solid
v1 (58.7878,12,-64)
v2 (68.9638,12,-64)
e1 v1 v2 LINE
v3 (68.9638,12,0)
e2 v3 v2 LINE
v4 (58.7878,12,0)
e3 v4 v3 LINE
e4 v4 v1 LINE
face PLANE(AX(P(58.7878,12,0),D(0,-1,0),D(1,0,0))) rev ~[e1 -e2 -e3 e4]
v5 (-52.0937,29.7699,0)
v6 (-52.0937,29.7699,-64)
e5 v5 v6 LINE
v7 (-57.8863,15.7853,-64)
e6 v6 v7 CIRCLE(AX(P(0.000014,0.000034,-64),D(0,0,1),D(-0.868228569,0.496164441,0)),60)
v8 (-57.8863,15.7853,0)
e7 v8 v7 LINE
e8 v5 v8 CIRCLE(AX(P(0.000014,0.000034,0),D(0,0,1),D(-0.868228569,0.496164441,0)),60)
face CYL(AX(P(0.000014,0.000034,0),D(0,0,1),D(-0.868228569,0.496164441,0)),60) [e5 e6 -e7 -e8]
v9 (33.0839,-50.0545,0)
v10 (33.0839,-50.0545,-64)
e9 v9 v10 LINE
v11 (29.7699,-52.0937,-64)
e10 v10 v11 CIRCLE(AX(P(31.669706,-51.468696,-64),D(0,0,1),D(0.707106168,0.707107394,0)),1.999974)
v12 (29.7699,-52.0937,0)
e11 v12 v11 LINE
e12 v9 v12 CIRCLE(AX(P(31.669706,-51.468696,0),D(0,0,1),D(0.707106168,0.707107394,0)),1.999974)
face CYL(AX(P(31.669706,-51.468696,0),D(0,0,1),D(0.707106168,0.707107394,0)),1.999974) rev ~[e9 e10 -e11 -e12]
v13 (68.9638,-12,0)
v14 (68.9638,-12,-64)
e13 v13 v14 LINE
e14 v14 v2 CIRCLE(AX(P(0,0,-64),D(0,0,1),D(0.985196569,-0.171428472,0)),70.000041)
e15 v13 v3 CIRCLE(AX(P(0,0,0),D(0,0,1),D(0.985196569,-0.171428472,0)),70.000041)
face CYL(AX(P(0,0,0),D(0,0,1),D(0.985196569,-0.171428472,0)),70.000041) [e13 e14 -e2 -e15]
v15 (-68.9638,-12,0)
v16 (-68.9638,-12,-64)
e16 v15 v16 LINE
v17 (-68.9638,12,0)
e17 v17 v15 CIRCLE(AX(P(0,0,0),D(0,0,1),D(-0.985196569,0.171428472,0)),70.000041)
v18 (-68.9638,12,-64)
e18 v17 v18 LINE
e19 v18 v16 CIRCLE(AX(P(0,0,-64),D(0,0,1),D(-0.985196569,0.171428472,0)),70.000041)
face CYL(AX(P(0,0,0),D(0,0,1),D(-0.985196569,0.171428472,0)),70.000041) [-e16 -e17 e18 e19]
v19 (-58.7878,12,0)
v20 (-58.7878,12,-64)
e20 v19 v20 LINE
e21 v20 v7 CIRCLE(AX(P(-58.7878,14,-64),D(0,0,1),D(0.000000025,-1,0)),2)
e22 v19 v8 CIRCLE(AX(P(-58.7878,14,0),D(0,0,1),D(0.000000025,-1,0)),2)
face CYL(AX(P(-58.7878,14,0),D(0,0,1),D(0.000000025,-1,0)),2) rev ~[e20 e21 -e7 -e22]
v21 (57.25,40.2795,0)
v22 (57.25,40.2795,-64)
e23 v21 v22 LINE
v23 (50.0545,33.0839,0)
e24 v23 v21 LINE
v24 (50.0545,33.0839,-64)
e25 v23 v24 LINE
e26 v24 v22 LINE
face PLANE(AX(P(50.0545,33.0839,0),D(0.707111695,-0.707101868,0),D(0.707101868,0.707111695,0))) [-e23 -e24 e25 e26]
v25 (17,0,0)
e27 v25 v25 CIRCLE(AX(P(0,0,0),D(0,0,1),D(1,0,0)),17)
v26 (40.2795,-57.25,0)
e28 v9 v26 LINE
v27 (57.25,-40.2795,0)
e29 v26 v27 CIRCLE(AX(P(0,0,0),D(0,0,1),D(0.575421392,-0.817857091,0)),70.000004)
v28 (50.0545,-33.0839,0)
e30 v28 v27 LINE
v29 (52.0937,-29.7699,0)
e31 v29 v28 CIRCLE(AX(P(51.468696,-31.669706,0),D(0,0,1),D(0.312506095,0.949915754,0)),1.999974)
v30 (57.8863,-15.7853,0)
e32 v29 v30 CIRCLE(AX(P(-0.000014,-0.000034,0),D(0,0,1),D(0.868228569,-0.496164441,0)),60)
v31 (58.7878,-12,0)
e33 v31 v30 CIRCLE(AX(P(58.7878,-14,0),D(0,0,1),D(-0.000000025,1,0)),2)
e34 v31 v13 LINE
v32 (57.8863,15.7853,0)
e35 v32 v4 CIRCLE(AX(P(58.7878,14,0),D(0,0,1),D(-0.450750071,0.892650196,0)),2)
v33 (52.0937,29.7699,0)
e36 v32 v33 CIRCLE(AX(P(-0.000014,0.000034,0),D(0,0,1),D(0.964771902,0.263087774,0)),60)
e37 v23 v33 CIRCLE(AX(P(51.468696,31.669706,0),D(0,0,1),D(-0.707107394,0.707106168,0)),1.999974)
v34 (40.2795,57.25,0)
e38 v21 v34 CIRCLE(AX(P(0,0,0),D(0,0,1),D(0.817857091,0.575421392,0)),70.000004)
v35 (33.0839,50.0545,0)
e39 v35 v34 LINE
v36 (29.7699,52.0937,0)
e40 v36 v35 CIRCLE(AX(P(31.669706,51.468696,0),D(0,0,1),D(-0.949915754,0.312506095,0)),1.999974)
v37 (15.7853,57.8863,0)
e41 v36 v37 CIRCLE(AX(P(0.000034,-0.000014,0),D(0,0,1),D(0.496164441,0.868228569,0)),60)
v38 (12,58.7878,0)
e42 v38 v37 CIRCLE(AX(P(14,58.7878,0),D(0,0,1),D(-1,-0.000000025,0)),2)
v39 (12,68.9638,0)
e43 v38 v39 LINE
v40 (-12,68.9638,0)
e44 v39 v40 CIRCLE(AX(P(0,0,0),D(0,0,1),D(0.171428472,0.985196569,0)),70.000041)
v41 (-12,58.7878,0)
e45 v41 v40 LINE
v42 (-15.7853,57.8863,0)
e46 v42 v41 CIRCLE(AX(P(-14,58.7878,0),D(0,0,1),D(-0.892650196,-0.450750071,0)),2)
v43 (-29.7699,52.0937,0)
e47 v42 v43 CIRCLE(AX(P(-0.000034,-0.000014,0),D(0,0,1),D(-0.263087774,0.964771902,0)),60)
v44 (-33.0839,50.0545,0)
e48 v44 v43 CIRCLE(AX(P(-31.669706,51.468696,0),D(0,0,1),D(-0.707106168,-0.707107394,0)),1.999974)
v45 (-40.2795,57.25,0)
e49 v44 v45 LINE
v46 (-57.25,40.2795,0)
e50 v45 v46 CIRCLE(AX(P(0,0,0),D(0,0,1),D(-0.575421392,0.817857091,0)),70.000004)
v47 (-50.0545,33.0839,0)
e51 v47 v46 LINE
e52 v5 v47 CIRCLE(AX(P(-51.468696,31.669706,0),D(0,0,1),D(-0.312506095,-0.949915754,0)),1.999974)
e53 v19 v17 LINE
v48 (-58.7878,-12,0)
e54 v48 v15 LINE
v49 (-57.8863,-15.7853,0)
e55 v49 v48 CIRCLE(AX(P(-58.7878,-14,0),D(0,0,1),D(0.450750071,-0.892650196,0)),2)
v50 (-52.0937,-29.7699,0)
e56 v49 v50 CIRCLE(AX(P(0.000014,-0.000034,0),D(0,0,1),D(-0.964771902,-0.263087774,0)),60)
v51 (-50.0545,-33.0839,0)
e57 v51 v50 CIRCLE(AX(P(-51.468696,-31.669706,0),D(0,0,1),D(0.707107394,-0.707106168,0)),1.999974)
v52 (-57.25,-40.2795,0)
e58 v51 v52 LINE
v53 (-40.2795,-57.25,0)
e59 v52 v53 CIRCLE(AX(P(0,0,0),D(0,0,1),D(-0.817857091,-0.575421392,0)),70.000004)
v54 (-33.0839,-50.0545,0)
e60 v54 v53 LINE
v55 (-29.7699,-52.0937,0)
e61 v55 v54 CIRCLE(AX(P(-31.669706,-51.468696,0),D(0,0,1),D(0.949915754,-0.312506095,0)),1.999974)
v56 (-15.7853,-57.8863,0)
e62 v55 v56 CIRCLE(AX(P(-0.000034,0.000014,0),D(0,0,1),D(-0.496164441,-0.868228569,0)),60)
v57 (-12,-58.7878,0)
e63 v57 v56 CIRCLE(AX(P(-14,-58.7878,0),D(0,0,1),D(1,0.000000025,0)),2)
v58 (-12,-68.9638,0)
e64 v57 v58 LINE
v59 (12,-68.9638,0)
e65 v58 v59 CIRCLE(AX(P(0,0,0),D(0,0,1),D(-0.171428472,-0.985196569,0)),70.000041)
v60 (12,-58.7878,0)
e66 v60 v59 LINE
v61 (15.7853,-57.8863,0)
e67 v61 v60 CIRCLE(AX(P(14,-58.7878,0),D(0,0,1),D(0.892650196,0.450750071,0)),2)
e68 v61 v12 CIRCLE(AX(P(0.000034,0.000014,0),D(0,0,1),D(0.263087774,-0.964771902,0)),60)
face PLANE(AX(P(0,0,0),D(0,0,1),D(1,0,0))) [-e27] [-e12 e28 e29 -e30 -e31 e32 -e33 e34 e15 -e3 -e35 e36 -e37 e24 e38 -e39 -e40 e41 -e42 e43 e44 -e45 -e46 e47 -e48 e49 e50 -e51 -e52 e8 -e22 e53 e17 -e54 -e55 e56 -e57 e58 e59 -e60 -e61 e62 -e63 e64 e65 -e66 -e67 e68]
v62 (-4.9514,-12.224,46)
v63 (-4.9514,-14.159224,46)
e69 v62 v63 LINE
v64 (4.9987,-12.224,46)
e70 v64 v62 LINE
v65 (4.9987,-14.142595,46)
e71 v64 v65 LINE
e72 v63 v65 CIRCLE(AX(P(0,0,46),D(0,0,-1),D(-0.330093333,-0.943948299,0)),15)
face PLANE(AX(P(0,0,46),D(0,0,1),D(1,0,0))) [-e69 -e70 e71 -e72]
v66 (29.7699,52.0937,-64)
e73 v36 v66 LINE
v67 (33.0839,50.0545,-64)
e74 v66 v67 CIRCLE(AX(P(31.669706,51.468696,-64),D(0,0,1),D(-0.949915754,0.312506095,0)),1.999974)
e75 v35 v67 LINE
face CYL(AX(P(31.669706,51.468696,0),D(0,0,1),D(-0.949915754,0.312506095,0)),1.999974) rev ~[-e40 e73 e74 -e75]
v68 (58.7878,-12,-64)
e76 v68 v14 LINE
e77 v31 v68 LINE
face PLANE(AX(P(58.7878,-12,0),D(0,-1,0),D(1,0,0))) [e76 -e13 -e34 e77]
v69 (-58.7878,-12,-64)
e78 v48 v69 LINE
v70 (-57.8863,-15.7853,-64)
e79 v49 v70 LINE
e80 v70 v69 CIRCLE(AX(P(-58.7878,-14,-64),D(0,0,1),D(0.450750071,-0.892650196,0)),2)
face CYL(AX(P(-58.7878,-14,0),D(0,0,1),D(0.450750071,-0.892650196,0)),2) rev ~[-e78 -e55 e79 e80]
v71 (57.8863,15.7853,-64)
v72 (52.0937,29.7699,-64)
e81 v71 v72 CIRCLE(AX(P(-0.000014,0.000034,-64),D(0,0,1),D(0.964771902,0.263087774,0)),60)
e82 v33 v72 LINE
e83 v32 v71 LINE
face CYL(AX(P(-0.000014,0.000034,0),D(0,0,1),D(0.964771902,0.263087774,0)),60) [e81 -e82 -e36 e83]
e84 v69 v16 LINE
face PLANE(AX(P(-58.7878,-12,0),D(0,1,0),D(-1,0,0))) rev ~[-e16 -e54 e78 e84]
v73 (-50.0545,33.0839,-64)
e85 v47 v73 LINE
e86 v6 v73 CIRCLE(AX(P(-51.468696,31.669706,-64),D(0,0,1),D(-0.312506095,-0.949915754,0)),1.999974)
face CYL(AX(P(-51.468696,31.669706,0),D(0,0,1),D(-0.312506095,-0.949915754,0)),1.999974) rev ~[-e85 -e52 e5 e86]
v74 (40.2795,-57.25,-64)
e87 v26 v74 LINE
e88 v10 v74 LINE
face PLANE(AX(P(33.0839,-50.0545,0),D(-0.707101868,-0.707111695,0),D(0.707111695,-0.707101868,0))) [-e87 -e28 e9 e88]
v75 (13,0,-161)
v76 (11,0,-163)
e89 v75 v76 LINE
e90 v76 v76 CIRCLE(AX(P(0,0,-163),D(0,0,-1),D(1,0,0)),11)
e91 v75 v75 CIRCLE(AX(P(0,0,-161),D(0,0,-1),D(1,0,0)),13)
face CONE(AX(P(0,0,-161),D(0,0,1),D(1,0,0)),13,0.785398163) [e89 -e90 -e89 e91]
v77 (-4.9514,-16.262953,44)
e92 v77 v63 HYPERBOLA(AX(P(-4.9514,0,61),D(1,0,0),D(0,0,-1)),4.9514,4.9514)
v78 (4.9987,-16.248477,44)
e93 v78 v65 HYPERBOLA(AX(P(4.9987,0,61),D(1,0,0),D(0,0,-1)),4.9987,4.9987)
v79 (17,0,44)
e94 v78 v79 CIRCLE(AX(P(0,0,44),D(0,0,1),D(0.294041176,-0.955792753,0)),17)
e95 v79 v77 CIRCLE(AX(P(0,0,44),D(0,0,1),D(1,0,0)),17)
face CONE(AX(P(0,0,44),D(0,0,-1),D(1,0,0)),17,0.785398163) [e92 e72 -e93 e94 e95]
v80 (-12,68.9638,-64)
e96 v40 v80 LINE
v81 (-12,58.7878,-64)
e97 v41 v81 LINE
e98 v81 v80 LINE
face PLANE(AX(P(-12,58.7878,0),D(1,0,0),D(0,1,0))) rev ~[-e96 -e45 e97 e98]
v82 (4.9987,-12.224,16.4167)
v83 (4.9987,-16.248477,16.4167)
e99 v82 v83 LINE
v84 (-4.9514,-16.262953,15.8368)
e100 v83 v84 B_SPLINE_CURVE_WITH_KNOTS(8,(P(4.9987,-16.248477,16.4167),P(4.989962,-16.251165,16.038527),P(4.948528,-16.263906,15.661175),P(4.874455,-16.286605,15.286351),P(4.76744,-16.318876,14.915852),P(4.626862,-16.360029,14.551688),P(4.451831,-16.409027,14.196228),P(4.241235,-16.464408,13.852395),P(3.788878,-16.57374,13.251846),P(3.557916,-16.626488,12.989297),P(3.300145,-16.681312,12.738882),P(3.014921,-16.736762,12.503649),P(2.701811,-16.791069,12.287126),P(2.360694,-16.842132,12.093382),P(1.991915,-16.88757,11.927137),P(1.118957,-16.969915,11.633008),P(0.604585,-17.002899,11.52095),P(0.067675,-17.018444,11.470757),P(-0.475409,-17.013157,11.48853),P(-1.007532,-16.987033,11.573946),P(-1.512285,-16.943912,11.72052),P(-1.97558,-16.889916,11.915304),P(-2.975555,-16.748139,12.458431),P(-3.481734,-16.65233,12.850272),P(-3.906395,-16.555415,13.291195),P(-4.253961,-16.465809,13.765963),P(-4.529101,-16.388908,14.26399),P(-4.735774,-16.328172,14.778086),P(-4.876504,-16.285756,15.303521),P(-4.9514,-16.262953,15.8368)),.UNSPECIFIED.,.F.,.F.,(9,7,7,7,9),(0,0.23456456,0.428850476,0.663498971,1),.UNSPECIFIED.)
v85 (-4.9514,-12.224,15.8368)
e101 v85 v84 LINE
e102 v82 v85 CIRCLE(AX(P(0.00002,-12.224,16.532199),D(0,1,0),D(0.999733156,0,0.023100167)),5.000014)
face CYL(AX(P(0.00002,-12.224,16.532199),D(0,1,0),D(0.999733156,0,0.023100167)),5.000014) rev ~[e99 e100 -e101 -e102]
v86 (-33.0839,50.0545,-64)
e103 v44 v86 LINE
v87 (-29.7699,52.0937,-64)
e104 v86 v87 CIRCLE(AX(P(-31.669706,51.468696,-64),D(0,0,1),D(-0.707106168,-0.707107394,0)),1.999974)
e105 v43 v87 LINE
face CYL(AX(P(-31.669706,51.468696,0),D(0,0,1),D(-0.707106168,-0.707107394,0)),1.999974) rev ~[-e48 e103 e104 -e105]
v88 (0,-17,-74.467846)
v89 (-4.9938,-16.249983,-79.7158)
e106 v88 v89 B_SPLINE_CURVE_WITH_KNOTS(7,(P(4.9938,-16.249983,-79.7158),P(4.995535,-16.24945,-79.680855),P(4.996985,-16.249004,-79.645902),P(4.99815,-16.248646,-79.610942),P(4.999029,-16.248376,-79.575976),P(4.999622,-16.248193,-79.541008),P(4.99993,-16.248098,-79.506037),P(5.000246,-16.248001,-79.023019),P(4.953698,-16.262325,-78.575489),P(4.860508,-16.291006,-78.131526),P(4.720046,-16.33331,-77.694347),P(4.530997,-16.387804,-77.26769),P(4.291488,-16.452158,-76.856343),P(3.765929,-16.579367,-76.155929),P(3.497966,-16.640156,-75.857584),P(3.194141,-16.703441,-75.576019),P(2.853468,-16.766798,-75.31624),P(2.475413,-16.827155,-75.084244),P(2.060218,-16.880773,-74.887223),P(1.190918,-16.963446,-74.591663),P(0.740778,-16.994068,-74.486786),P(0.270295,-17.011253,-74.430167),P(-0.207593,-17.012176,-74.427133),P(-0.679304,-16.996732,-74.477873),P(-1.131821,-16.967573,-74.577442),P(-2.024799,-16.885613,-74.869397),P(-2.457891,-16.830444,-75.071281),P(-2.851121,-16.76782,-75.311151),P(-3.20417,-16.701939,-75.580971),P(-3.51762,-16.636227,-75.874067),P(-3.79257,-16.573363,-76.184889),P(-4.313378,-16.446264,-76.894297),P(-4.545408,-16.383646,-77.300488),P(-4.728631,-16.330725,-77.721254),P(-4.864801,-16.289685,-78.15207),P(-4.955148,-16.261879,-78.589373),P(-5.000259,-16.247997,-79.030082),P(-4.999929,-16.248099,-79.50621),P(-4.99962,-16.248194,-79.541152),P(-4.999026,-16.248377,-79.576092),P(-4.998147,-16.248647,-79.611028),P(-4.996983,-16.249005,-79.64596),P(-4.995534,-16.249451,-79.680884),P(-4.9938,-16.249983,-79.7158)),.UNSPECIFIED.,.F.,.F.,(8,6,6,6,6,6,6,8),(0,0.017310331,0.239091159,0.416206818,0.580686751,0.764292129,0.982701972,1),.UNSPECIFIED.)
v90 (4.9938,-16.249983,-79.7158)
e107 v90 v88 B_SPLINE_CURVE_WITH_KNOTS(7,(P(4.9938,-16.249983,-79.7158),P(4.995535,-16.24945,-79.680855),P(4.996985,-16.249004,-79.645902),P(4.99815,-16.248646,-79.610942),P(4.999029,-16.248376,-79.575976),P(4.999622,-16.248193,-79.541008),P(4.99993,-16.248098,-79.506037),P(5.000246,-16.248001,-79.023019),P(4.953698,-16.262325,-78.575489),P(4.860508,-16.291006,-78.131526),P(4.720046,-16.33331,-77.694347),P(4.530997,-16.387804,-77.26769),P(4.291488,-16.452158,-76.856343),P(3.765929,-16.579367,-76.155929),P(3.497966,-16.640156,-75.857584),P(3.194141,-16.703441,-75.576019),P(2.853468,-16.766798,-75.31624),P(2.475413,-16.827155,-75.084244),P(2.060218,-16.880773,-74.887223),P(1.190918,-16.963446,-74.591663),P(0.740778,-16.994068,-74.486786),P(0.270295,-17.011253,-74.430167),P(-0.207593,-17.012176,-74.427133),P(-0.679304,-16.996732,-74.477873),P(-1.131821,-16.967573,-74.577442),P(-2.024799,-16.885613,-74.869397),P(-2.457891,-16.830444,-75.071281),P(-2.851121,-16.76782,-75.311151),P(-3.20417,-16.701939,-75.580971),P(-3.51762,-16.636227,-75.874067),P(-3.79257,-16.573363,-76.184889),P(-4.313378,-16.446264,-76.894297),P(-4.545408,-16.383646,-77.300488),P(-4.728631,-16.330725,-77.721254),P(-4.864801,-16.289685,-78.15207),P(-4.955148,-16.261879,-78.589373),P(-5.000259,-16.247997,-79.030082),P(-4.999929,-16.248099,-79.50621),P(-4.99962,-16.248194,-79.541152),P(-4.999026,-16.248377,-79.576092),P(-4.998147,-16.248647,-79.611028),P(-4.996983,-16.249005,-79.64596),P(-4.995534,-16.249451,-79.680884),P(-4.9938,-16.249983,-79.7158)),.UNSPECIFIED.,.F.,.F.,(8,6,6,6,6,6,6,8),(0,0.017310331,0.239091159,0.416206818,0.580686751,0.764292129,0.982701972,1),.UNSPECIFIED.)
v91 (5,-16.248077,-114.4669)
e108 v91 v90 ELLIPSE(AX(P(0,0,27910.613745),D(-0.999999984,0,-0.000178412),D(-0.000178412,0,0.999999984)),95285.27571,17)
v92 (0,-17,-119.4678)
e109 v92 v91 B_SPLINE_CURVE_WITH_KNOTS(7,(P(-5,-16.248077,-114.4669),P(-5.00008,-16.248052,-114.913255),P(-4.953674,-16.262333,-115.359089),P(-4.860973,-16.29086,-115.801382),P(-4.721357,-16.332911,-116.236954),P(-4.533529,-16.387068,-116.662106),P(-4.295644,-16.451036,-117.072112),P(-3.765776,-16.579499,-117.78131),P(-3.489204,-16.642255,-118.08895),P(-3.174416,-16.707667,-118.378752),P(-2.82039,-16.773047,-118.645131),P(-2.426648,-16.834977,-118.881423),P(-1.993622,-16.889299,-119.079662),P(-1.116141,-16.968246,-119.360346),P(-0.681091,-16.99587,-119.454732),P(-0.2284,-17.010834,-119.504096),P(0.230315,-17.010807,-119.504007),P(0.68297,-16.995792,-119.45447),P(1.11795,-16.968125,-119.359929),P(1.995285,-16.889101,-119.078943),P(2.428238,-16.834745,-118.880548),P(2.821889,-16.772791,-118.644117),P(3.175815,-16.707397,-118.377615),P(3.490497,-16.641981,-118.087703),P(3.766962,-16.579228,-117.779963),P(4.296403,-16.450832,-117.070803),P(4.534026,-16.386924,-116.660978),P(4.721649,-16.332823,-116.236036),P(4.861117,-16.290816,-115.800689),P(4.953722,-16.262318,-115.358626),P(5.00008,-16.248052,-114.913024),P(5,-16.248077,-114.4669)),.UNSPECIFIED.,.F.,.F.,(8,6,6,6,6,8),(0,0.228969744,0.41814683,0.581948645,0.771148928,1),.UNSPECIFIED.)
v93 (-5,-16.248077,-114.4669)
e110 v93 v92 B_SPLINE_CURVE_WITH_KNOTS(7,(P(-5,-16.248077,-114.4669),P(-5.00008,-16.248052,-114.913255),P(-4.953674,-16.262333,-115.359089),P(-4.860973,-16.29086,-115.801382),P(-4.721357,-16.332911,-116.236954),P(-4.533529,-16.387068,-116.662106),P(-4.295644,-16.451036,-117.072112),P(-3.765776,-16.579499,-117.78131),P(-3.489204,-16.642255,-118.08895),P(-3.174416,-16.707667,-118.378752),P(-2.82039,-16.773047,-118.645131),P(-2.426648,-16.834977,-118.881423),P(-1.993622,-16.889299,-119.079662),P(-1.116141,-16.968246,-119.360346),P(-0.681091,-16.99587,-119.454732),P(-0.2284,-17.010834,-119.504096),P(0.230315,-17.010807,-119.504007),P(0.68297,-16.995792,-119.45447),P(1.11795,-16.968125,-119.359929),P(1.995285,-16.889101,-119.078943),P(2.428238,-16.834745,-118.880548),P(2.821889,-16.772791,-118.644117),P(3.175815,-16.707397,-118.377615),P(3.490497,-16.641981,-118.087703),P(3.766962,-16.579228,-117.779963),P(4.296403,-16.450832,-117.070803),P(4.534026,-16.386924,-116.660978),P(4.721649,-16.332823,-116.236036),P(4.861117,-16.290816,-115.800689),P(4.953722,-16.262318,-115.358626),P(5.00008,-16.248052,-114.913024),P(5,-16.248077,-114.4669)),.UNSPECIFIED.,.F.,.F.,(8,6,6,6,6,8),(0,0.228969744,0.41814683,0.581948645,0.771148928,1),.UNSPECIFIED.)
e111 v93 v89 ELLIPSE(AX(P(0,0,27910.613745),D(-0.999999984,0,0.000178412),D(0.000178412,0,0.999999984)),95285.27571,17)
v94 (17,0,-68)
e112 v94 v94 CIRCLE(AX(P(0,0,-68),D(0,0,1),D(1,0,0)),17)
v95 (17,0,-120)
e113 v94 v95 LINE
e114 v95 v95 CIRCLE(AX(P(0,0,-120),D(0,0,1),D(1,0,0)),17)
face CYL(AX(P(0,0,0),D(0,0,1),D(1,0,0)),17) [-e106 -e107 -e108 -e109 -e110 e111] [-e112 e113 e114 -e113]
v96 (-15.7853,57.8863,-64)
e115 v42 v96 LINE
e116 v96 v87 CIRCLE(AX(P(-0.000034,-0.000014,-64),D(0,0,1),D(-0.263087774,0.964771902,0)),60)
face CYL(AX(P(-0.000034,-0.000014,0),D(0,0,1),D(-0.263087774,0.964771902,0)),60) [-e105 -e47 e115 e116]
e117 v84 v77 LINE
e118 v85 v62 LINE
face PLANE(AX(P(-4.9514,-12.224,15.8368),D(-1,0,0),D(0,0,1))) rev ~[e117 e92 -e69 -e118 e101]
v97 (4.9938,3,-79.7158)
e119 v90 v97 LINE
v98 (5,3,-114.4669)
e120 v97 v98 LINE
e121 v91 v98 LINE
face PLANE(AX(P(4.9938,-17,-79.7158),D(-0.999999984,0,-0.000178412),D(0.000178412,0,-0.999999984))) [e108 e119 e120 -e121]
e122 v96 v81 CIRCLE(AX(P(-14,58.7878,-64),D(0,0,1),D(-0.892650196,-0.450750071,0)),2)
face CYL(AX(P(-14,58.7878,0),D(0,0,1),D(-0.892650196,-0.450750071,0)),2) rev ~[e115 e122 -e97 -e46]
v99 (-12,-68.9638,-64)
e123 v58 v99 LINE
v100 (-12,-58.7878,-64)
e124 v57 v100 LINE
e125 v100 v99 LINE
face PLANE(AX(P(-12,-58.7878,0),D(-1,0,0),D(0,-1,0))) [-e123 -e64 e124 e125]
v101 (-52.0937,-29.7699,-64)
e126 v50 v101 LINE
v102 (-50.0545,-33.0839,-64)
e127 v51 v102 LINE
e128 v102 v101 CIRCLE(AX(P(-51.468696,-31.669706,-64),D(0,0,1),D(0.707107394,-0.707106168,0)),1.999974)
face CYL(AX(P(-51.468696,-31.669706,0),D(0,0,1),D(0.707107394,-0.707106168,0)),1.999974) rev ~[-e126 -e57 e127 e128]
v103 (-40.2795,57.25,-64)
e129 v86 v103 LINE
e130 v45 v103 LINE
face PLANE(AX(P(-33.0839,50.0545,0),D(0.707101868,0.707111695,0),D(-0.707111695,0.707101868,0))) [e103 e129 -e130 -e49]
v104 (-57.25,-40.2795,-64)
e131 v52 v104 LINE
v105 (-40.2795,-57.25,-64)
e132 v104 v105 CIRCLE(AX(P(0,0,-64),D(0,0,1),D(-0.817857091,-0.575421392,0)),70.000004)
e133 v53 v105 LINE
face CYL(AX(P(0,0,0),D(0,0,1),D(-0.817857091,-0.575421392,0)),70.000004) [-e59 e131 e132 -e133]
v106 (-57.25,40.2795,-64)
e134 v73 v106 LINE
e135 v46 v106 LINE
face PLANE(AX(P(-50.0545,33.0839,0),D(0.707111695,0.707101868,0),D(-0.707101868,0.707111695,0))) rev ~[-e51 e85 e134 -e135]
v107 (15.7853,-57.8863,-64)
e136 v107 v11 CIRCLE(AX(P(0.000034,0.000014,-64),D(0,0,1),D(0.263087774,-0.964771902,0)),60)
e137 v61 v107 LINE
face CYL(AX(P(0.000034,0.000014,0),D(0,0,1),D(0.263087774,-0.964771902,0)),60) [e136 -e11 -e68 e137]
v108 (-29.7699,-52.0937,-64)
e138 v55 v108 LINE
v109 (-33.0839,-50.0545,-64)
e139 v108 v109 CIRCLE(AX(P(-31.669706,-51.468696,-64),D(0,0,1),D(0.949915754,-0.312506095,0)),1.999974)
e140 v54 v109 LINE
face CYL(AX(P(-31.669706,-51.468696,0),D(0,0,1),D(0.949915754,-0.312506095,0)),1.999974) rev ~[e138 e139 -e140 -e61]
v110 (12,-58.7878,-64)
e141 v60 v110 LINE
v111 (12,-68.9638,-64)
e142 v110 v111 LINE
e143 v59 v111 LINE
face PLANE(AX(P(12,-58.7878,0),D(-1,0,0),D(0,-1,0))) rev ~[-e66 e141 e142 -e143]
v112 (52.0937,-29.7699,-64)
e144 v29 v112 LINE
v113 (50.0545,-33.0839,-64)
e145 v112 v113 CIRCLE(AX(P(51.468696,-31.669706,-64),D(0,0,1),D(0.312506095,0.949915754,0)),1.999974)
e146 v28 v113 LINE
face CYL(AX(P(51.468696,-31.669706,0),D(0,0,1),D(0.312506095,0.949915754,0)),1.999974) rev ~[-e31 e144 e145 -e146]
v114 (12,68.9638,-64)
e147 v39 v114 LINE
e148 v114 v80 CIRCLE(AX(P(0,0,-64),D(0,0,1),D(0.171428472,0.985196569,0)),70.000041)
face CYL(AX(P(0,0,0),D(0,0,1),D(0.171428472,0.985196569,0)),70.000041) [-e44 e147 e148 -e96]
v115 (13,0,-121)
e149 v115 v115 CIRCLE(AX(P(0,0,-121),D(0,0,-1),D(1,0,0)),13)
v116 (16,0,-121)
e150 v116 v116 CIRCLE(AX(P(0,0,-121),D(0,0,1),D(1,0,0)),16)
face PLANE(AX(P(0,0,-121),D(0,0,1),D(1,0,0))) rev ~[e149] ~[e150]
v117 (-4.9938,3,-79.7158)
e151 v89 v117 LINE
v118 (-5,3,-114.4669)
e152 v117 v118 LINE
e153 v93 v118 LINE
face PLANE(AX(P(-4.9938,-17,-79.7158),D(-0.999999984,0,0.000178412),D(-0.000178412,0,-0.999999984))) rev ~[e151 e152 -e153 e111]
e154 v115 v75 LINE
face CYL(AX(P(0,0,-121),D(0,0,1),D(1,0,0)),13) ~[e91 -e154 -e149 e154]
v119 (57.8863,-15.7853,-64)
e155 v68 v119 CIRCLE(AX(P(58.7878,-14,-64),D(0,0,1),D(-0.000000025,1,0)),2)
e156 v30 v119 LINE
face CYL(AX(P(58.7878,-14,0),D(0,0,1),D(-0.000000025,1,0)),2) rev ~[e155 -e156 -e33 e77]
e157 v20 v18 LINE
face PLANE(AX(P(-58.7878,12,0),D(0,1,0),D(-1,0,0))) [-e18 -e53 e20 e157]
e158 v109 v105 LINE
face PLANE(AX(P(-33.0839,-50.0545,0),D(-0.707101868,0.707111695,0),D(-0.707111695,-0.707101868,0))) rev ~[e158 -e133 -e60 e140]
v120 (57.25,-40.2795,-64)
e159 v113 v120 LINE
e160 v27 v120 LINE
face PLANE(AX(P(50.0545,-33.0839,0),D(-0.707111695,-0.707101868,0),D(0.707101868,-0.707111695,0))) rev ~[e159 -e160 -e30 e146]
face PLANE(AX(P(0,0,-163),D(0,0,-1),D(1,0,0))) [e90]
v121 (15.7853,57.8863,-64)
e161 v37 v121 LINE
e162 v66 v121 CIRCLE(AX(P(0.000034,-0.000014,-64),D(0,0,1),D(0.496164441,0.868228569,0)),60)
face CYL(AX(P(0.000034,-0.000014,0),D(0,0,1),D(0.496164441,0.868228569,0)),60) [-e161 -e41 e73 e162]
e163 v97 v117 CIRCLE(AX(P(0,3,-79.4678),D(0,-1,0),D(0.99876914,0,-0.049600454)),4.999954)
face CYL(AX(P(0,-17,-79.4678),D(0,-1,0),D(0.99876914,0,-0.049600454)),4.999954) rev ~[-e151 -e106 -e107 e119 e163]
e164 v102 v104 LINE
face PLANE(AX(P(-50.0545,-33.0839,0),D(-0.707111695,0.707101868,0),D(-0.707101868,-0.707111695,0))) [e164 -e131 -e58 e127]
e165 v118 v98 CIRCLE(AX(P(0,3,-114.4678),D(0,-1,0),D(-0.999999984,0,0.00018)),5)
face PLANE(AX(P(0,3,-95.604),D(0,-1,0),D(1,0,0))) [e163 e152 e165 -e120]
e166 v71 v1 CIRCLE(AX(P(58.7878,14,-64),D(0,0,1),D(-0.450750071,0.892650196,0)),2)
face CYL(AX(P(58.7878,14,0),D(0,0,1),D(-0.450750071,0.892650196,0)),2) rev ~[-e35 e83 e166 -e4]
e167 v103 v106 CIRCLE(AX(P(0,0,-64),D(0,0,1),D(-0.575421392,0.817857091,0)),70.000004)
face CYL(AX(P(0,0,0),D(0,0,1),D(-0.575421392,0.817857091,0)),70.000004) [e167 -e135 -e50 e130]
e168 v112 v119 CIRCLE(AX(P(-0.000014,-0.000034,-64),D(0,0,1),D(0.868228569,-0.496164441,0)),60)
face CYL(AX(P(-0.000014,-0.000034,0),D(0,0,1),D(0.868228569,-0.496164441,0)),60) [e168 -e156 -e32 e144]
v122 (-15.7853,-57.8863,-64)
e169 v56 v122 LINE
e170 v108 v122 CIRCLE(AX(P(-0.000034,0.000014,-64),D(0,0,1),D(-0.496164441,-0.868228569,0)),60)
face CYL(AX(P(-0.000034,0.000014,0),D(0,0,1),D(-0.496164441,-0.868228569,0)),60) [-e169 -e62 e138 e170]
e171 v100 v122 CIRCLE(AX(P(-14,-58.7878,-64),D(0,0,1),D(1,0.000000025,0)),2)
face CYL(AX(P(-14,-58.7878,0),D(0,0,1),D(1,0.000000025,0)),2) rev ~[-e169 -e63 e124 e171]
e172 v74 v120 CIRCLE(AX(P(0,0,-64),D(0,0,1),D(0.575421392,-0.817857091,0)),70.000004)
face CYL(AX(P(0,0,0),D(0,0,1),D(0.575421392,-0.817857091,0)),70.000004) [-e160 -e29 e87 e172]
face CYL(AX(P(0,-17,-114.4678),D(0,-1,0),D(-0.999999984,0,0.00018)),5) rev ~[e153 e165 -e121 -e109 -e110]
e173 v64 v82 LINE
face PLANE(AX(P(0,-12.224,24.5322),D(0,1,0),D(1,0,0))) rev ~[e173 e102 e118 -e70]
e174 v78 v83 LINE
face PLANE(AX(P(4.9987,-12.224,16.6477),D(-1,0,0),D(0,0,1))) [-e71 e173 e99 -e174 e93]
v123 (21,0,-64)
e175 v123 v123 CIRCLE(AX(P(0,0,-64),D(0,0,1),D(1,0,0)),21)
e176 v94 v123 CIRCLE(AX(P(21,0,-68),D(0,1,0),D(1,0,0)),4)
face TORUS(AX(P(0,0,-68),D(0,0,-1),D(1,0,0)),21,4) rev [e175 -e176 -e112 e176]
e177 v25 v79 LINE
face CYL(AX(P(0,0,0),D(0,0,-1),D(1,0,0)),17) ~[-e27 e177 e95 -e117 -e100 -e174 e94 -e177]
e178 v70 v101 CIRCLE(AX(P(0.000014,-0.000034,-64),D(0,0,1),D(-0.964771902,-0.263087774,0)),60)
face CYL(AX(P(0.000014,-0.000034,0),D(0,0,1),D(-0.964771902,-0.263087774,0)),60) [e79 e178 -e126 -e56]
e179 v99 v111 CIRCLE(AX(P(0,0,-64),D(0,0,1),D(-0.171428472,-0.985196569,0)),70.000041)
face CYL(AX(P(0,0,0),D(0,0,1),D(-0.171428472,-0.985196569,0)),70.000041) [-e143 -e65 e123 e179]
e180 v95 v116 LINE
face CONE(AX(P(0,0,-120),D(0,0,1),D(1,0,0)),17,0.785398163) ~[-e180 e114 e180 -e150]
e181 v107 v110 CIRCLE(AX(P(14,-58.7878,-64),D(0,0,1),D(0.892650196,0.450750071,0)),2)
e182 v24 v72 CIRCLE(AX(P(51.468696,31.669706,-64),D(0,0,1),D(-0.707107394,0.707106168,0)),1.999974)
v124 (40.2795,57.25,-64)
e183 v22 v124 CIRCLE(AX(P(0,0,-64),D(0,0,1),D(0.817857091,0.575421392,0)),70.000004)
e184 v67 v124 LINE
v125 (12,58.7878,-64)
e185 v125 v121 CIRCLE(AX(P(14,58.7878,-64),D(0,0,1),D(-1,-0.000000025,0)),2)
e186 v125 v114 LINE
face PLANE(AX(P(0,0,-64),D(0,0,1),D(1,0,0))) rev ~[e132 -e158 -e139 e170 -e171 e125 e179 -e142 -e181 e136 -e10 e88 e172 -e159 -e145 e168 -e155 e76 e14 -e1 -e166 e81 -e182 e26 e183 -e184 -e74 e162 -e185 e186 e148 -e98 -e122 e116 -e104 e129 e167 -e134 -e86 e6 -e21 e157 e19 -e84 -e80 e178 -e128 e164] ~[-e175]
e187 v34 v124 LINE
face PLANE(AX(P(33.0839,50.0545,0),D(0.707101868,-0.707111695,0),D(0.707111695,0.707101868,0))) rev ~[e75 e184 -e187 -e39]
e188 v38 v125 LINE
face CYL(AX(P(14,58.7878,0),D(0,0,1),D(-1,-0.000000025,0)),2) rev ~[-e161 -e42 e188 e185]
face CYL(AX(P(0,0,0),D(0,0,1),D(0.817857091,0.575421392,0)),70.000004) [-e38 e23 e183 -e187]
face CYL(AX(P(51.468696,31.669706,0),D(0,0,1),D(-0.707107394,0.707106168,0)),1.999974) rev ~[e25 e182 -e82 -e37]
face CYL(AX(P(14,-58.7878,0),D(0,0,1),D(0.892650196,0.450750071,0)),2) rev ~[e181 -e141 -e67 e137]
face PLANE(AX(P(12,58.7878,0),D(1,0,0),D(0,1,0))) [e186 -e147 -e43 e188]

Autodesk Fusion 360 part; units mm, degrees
sketch "Sketch1" plane through (0, 0, 0) normal (0, 0, 1) x (1, 0, 0)
  circle A0 centre (0, 0) radius 17
  line L0 (12, 58.7878) -> (12, 68.9638)
  line L1 (-12, 58.7878) -> (-12, 68.9638)
  arc A1 (12, 68.9638) -> (-12, 68.9638) centre (0, 0) ccw
  line L2 (-50.0545, 33.0839) -> (-57.25, 40.2795)
  arc A2 (-40.2795, 57.25) -> (-57.25, 40.2795) centre (0, 0) ccw
  line L3 (-33.0839, 50.0545) -> (-40.2795, 57.25)
  line L4 (-58.7878, -12) -> (-68.9638, -12)
  arc A3 (-68.9638, 12) -> (-68.9638, -12) centre (0, 0) ccw
  line L5 (-58.7878, 12) -> (-68.9638, 12)
  line L6 (-33.0839, -50.0545) -> (-40.2795, -57.25)
  arc A4 (-57.25, -40.2795) -> (-40.2795, -57.25) centre (0, 0) ccw
  line L7 (-50.0545, -33.0839) -> (-57.25, -40.2795)
  line L8 (12, -58.7878) -> (12, -68.9638)
  arc A5 (-12, -68.9638) -> (12, -68.9638) centre (0, 0) ccw
  line L9 (-12, -58.7878) -> (-12, -68.9638)
  line L10 (50.0545, -33.0839) -> (57.25, -40.2795)
  arc A6 (40.2795, -57.25) -> (57.25, -40.2795) centre (0, 0) ccw
  line L11 (33.0839, -50.0545) -> (40.2795, -57.25)
  line L12 (58.7878, 12) -> (68.9638, 12)
  arc A7 (68.9638, -12) -> (68.9638, 12) centre (0, 0) ccw
  line L13 (58.7878, -12) -> (68.9638, -12)
  line L14 (33.0839, 50.0545) -> (40.2795, 57.25)
  arc A8 (57.25, 40.2795) -> (40.2795, 57.25) centre (0, 0) ccw
  line L15 (50.0545, 33.0839) -> (57.25, 40.2795)
  line L16 (31.6697, 51.4687) -> (33.0839, 50.0545) construction
  line L17 (14, 58.7878) -> (12, 58.7878) construction
  arc A9 (12, 58.7878) -> (15.7853, 57.8863) centre (14, 58.7878) ccw
  arc A10 (29.7699, 52.0937) -> (33.0839, 50.0545) centre (31.6697, 51.4687) ccw
  arc A11 (29.7699, 52.0937) -> (15.7853, 57.8863) centre (0, 0) ccw
  arc A12 (-15.7853, 57.8863) -> (-29.7699, 52.0937) centre (0, 0) ccw
  arc A13 (-52.0937, 29.7699) -> (-57.8863, 15.7853) centre (0, 0) ccw
  arc A14 (15.7853, -57.8863) -> (29.7699, -52.0937) centre (0, 0) ccw
  arc A15 (-57.8863, -15.7853) -> (-52.0937, -29.7699) centre (0, 0) ccw
  arc A16 (-29.7699, -52.0937) -> (-15.7853, -57.8863) centre (0, 0) ccw
  arc A17 (52.0937, -29.7699) -> (57.8863, -15.7853) centre (0, 0) ccw
  arc A18 (57.8863, 15.7853) -> (52.0937, 29.7699) centre (0, 0) ccw
  arc A19 (-33.0839, 50.0545) -> (-29.7699, 52.0937) centre (-31.6697, 51.4687) ccw
  arc A20 (-15.7853, 57.8863) -> (-12, 58.7878) centre (-14, 58.7878) ccw
  arc A21 (-58.7878, 12) -> (-57.8863, 15.7853) centre (-58.7878, 14) ccw
  arc A22 (-52.0937, 29.7699) -> (-50.0545, 33.0839) centre (-51.4687, 31.6697) ccw
  arc A23 (-50.0545, -33.0839) -> (-52.0937, -29.7699) centre (-51.4687, -31.6697) ccw
  arc A24 (-57.8863, -15.7853) -> (-58.7878, -12) centre (-58.7878, -14) ccw
  arc A25 (-12, -58.7878) -> (-15.7853, -57.8863) centre (-14, -58.7878) ccw
  arc A26 (-29.7699, -52.0937) -> (-33.0839, -50.0545) centre (-31.6697, -51.4687) ccw
  arc A27 (33.0839, -50.0545) -> (29.7699, -52.0937) centre (31.6697, -51.4687) ccw
  arc A28 (15.7853, -57.8863) -> (12, -58.7878) centre (14, -58.7878) ccw
  arc A29 (58.7878, -12) -> (57.8863, -15.7853) centre (58.7878, -14) ccw
  arc A30 (52.0937, -29.7699) -> (50.0545, -33.0839) centre (51.4687, -31.6697) ccw
  arc A31 (50.0545, 33.0839) -> (52.0937, 29.7699) centre (51.4687, 31.6697) ccw
  arc A32 (57.8863, 15.7853) -> (58.7878, 12) centre (58.7878, 14) ccw
  dimension "d1" = 140
  dimension "d2" = 120
  dimension "d3" = 34
  dimension "d4" = 24
  dimension "d7" = 360
  dimension "d8" = 4
  dimension "d9" = 4
  dimension "d11" = 360
extrude "Extrude1" add sketch "Sketch1" along normal blind 46 and the other way blind 121 contours A0
extrude "Extrude2" add sketch "Sketch1" against normal blind 64
sketch "Sketch2" plane through (0, 0, -121) normal (0, 0, -1) x (1, 0, 0)
  circle A0 centre (0, 0) radius 17
  circle A1 centre (0, 0) radius 13
  dimension "d18" = 26
extrude "Extrude3" add sketch "Sketch2" along normal blind 42 contours A1
ref_plane "WorkPlane1" through (0, 17, 24.5322) normal (0, 1, 0) x (1, 0, 0)
ref_plane "WorkPlane2" through (0, -12.224, 24.5322) normal (0, 1, 0) x (1, 0, 0)
sketch "Sketch3" plane through (0, -12.224, 24.5322) normal (0, 1, 0) x (1, 0, 0)
  line L0 (0, -21) -> (0, 21) construction
  line L1 (-4.9514, 8.6954) -> (-4.9514, -21.5)
  line L2 (4.9987, 8.1155) -> (4.9987, -21.5)
  line L3 (4.9987, -21.5) -> (-4.9514, -21.5)
  arc A0 (4.9987, 7.8845) -> (-4.9514, 7.3046) centre (0, 8) ccw
  dimension "d23" = 10
  dimension "d24" = 29
extrude "Extrude4" cut sketch "Sketch3" against normal blind 13 contours L1 L2 L3 A0
ref_plane "WorkPlane3" through (0, -17, -95.604) normal (0, -1, 0) x (-1, 0, 0)
sketch "Sketch4" plane through (0, 0, 0) normal (0, 0, 1) x (1, 0, 0)
sketch "Sketch5" plane through (0, -17, -95.604) normal (0, -1, 0) x (1, 0, 0)
  line L0 (-4.9938, 15.8882) -> (-5, -18.8629)
  line L1 (4.9938, 15.8882) -> (5, -18.8629)
  arc A0 (-4.9514, 111.4408) -> (4.9987, 112.0207) centre (0, 112.1362) ccw
  arc A1 (4.9938, 15.8882) -> (-4.9938, 15.8882) centre (0, 16.1362) ccw
  arc A2 (-5, -18.8629) -> (5, -18.8629) centre (0, -18.8638) ccw
  dimension "d28" = 10
  dimension "d29" = 10
  dimension "d30" = 35
  dimension "d31" = 96
extrude "Extrude5" cut sketch "Sketch5" against normal blind 20
chamfer "Chamfer1" distance 2 angle 45 2 edges at (-12.1203, 4.701, -163) (-0.0247, 17, 46)
chamfer "Chamfer2" distance 1 angle 45 1 edges at (-15.8496, 6.1475, -121)
fillet "Fillet1" radius 4 1 edges at (-15.8496, 6.1475, -64)
